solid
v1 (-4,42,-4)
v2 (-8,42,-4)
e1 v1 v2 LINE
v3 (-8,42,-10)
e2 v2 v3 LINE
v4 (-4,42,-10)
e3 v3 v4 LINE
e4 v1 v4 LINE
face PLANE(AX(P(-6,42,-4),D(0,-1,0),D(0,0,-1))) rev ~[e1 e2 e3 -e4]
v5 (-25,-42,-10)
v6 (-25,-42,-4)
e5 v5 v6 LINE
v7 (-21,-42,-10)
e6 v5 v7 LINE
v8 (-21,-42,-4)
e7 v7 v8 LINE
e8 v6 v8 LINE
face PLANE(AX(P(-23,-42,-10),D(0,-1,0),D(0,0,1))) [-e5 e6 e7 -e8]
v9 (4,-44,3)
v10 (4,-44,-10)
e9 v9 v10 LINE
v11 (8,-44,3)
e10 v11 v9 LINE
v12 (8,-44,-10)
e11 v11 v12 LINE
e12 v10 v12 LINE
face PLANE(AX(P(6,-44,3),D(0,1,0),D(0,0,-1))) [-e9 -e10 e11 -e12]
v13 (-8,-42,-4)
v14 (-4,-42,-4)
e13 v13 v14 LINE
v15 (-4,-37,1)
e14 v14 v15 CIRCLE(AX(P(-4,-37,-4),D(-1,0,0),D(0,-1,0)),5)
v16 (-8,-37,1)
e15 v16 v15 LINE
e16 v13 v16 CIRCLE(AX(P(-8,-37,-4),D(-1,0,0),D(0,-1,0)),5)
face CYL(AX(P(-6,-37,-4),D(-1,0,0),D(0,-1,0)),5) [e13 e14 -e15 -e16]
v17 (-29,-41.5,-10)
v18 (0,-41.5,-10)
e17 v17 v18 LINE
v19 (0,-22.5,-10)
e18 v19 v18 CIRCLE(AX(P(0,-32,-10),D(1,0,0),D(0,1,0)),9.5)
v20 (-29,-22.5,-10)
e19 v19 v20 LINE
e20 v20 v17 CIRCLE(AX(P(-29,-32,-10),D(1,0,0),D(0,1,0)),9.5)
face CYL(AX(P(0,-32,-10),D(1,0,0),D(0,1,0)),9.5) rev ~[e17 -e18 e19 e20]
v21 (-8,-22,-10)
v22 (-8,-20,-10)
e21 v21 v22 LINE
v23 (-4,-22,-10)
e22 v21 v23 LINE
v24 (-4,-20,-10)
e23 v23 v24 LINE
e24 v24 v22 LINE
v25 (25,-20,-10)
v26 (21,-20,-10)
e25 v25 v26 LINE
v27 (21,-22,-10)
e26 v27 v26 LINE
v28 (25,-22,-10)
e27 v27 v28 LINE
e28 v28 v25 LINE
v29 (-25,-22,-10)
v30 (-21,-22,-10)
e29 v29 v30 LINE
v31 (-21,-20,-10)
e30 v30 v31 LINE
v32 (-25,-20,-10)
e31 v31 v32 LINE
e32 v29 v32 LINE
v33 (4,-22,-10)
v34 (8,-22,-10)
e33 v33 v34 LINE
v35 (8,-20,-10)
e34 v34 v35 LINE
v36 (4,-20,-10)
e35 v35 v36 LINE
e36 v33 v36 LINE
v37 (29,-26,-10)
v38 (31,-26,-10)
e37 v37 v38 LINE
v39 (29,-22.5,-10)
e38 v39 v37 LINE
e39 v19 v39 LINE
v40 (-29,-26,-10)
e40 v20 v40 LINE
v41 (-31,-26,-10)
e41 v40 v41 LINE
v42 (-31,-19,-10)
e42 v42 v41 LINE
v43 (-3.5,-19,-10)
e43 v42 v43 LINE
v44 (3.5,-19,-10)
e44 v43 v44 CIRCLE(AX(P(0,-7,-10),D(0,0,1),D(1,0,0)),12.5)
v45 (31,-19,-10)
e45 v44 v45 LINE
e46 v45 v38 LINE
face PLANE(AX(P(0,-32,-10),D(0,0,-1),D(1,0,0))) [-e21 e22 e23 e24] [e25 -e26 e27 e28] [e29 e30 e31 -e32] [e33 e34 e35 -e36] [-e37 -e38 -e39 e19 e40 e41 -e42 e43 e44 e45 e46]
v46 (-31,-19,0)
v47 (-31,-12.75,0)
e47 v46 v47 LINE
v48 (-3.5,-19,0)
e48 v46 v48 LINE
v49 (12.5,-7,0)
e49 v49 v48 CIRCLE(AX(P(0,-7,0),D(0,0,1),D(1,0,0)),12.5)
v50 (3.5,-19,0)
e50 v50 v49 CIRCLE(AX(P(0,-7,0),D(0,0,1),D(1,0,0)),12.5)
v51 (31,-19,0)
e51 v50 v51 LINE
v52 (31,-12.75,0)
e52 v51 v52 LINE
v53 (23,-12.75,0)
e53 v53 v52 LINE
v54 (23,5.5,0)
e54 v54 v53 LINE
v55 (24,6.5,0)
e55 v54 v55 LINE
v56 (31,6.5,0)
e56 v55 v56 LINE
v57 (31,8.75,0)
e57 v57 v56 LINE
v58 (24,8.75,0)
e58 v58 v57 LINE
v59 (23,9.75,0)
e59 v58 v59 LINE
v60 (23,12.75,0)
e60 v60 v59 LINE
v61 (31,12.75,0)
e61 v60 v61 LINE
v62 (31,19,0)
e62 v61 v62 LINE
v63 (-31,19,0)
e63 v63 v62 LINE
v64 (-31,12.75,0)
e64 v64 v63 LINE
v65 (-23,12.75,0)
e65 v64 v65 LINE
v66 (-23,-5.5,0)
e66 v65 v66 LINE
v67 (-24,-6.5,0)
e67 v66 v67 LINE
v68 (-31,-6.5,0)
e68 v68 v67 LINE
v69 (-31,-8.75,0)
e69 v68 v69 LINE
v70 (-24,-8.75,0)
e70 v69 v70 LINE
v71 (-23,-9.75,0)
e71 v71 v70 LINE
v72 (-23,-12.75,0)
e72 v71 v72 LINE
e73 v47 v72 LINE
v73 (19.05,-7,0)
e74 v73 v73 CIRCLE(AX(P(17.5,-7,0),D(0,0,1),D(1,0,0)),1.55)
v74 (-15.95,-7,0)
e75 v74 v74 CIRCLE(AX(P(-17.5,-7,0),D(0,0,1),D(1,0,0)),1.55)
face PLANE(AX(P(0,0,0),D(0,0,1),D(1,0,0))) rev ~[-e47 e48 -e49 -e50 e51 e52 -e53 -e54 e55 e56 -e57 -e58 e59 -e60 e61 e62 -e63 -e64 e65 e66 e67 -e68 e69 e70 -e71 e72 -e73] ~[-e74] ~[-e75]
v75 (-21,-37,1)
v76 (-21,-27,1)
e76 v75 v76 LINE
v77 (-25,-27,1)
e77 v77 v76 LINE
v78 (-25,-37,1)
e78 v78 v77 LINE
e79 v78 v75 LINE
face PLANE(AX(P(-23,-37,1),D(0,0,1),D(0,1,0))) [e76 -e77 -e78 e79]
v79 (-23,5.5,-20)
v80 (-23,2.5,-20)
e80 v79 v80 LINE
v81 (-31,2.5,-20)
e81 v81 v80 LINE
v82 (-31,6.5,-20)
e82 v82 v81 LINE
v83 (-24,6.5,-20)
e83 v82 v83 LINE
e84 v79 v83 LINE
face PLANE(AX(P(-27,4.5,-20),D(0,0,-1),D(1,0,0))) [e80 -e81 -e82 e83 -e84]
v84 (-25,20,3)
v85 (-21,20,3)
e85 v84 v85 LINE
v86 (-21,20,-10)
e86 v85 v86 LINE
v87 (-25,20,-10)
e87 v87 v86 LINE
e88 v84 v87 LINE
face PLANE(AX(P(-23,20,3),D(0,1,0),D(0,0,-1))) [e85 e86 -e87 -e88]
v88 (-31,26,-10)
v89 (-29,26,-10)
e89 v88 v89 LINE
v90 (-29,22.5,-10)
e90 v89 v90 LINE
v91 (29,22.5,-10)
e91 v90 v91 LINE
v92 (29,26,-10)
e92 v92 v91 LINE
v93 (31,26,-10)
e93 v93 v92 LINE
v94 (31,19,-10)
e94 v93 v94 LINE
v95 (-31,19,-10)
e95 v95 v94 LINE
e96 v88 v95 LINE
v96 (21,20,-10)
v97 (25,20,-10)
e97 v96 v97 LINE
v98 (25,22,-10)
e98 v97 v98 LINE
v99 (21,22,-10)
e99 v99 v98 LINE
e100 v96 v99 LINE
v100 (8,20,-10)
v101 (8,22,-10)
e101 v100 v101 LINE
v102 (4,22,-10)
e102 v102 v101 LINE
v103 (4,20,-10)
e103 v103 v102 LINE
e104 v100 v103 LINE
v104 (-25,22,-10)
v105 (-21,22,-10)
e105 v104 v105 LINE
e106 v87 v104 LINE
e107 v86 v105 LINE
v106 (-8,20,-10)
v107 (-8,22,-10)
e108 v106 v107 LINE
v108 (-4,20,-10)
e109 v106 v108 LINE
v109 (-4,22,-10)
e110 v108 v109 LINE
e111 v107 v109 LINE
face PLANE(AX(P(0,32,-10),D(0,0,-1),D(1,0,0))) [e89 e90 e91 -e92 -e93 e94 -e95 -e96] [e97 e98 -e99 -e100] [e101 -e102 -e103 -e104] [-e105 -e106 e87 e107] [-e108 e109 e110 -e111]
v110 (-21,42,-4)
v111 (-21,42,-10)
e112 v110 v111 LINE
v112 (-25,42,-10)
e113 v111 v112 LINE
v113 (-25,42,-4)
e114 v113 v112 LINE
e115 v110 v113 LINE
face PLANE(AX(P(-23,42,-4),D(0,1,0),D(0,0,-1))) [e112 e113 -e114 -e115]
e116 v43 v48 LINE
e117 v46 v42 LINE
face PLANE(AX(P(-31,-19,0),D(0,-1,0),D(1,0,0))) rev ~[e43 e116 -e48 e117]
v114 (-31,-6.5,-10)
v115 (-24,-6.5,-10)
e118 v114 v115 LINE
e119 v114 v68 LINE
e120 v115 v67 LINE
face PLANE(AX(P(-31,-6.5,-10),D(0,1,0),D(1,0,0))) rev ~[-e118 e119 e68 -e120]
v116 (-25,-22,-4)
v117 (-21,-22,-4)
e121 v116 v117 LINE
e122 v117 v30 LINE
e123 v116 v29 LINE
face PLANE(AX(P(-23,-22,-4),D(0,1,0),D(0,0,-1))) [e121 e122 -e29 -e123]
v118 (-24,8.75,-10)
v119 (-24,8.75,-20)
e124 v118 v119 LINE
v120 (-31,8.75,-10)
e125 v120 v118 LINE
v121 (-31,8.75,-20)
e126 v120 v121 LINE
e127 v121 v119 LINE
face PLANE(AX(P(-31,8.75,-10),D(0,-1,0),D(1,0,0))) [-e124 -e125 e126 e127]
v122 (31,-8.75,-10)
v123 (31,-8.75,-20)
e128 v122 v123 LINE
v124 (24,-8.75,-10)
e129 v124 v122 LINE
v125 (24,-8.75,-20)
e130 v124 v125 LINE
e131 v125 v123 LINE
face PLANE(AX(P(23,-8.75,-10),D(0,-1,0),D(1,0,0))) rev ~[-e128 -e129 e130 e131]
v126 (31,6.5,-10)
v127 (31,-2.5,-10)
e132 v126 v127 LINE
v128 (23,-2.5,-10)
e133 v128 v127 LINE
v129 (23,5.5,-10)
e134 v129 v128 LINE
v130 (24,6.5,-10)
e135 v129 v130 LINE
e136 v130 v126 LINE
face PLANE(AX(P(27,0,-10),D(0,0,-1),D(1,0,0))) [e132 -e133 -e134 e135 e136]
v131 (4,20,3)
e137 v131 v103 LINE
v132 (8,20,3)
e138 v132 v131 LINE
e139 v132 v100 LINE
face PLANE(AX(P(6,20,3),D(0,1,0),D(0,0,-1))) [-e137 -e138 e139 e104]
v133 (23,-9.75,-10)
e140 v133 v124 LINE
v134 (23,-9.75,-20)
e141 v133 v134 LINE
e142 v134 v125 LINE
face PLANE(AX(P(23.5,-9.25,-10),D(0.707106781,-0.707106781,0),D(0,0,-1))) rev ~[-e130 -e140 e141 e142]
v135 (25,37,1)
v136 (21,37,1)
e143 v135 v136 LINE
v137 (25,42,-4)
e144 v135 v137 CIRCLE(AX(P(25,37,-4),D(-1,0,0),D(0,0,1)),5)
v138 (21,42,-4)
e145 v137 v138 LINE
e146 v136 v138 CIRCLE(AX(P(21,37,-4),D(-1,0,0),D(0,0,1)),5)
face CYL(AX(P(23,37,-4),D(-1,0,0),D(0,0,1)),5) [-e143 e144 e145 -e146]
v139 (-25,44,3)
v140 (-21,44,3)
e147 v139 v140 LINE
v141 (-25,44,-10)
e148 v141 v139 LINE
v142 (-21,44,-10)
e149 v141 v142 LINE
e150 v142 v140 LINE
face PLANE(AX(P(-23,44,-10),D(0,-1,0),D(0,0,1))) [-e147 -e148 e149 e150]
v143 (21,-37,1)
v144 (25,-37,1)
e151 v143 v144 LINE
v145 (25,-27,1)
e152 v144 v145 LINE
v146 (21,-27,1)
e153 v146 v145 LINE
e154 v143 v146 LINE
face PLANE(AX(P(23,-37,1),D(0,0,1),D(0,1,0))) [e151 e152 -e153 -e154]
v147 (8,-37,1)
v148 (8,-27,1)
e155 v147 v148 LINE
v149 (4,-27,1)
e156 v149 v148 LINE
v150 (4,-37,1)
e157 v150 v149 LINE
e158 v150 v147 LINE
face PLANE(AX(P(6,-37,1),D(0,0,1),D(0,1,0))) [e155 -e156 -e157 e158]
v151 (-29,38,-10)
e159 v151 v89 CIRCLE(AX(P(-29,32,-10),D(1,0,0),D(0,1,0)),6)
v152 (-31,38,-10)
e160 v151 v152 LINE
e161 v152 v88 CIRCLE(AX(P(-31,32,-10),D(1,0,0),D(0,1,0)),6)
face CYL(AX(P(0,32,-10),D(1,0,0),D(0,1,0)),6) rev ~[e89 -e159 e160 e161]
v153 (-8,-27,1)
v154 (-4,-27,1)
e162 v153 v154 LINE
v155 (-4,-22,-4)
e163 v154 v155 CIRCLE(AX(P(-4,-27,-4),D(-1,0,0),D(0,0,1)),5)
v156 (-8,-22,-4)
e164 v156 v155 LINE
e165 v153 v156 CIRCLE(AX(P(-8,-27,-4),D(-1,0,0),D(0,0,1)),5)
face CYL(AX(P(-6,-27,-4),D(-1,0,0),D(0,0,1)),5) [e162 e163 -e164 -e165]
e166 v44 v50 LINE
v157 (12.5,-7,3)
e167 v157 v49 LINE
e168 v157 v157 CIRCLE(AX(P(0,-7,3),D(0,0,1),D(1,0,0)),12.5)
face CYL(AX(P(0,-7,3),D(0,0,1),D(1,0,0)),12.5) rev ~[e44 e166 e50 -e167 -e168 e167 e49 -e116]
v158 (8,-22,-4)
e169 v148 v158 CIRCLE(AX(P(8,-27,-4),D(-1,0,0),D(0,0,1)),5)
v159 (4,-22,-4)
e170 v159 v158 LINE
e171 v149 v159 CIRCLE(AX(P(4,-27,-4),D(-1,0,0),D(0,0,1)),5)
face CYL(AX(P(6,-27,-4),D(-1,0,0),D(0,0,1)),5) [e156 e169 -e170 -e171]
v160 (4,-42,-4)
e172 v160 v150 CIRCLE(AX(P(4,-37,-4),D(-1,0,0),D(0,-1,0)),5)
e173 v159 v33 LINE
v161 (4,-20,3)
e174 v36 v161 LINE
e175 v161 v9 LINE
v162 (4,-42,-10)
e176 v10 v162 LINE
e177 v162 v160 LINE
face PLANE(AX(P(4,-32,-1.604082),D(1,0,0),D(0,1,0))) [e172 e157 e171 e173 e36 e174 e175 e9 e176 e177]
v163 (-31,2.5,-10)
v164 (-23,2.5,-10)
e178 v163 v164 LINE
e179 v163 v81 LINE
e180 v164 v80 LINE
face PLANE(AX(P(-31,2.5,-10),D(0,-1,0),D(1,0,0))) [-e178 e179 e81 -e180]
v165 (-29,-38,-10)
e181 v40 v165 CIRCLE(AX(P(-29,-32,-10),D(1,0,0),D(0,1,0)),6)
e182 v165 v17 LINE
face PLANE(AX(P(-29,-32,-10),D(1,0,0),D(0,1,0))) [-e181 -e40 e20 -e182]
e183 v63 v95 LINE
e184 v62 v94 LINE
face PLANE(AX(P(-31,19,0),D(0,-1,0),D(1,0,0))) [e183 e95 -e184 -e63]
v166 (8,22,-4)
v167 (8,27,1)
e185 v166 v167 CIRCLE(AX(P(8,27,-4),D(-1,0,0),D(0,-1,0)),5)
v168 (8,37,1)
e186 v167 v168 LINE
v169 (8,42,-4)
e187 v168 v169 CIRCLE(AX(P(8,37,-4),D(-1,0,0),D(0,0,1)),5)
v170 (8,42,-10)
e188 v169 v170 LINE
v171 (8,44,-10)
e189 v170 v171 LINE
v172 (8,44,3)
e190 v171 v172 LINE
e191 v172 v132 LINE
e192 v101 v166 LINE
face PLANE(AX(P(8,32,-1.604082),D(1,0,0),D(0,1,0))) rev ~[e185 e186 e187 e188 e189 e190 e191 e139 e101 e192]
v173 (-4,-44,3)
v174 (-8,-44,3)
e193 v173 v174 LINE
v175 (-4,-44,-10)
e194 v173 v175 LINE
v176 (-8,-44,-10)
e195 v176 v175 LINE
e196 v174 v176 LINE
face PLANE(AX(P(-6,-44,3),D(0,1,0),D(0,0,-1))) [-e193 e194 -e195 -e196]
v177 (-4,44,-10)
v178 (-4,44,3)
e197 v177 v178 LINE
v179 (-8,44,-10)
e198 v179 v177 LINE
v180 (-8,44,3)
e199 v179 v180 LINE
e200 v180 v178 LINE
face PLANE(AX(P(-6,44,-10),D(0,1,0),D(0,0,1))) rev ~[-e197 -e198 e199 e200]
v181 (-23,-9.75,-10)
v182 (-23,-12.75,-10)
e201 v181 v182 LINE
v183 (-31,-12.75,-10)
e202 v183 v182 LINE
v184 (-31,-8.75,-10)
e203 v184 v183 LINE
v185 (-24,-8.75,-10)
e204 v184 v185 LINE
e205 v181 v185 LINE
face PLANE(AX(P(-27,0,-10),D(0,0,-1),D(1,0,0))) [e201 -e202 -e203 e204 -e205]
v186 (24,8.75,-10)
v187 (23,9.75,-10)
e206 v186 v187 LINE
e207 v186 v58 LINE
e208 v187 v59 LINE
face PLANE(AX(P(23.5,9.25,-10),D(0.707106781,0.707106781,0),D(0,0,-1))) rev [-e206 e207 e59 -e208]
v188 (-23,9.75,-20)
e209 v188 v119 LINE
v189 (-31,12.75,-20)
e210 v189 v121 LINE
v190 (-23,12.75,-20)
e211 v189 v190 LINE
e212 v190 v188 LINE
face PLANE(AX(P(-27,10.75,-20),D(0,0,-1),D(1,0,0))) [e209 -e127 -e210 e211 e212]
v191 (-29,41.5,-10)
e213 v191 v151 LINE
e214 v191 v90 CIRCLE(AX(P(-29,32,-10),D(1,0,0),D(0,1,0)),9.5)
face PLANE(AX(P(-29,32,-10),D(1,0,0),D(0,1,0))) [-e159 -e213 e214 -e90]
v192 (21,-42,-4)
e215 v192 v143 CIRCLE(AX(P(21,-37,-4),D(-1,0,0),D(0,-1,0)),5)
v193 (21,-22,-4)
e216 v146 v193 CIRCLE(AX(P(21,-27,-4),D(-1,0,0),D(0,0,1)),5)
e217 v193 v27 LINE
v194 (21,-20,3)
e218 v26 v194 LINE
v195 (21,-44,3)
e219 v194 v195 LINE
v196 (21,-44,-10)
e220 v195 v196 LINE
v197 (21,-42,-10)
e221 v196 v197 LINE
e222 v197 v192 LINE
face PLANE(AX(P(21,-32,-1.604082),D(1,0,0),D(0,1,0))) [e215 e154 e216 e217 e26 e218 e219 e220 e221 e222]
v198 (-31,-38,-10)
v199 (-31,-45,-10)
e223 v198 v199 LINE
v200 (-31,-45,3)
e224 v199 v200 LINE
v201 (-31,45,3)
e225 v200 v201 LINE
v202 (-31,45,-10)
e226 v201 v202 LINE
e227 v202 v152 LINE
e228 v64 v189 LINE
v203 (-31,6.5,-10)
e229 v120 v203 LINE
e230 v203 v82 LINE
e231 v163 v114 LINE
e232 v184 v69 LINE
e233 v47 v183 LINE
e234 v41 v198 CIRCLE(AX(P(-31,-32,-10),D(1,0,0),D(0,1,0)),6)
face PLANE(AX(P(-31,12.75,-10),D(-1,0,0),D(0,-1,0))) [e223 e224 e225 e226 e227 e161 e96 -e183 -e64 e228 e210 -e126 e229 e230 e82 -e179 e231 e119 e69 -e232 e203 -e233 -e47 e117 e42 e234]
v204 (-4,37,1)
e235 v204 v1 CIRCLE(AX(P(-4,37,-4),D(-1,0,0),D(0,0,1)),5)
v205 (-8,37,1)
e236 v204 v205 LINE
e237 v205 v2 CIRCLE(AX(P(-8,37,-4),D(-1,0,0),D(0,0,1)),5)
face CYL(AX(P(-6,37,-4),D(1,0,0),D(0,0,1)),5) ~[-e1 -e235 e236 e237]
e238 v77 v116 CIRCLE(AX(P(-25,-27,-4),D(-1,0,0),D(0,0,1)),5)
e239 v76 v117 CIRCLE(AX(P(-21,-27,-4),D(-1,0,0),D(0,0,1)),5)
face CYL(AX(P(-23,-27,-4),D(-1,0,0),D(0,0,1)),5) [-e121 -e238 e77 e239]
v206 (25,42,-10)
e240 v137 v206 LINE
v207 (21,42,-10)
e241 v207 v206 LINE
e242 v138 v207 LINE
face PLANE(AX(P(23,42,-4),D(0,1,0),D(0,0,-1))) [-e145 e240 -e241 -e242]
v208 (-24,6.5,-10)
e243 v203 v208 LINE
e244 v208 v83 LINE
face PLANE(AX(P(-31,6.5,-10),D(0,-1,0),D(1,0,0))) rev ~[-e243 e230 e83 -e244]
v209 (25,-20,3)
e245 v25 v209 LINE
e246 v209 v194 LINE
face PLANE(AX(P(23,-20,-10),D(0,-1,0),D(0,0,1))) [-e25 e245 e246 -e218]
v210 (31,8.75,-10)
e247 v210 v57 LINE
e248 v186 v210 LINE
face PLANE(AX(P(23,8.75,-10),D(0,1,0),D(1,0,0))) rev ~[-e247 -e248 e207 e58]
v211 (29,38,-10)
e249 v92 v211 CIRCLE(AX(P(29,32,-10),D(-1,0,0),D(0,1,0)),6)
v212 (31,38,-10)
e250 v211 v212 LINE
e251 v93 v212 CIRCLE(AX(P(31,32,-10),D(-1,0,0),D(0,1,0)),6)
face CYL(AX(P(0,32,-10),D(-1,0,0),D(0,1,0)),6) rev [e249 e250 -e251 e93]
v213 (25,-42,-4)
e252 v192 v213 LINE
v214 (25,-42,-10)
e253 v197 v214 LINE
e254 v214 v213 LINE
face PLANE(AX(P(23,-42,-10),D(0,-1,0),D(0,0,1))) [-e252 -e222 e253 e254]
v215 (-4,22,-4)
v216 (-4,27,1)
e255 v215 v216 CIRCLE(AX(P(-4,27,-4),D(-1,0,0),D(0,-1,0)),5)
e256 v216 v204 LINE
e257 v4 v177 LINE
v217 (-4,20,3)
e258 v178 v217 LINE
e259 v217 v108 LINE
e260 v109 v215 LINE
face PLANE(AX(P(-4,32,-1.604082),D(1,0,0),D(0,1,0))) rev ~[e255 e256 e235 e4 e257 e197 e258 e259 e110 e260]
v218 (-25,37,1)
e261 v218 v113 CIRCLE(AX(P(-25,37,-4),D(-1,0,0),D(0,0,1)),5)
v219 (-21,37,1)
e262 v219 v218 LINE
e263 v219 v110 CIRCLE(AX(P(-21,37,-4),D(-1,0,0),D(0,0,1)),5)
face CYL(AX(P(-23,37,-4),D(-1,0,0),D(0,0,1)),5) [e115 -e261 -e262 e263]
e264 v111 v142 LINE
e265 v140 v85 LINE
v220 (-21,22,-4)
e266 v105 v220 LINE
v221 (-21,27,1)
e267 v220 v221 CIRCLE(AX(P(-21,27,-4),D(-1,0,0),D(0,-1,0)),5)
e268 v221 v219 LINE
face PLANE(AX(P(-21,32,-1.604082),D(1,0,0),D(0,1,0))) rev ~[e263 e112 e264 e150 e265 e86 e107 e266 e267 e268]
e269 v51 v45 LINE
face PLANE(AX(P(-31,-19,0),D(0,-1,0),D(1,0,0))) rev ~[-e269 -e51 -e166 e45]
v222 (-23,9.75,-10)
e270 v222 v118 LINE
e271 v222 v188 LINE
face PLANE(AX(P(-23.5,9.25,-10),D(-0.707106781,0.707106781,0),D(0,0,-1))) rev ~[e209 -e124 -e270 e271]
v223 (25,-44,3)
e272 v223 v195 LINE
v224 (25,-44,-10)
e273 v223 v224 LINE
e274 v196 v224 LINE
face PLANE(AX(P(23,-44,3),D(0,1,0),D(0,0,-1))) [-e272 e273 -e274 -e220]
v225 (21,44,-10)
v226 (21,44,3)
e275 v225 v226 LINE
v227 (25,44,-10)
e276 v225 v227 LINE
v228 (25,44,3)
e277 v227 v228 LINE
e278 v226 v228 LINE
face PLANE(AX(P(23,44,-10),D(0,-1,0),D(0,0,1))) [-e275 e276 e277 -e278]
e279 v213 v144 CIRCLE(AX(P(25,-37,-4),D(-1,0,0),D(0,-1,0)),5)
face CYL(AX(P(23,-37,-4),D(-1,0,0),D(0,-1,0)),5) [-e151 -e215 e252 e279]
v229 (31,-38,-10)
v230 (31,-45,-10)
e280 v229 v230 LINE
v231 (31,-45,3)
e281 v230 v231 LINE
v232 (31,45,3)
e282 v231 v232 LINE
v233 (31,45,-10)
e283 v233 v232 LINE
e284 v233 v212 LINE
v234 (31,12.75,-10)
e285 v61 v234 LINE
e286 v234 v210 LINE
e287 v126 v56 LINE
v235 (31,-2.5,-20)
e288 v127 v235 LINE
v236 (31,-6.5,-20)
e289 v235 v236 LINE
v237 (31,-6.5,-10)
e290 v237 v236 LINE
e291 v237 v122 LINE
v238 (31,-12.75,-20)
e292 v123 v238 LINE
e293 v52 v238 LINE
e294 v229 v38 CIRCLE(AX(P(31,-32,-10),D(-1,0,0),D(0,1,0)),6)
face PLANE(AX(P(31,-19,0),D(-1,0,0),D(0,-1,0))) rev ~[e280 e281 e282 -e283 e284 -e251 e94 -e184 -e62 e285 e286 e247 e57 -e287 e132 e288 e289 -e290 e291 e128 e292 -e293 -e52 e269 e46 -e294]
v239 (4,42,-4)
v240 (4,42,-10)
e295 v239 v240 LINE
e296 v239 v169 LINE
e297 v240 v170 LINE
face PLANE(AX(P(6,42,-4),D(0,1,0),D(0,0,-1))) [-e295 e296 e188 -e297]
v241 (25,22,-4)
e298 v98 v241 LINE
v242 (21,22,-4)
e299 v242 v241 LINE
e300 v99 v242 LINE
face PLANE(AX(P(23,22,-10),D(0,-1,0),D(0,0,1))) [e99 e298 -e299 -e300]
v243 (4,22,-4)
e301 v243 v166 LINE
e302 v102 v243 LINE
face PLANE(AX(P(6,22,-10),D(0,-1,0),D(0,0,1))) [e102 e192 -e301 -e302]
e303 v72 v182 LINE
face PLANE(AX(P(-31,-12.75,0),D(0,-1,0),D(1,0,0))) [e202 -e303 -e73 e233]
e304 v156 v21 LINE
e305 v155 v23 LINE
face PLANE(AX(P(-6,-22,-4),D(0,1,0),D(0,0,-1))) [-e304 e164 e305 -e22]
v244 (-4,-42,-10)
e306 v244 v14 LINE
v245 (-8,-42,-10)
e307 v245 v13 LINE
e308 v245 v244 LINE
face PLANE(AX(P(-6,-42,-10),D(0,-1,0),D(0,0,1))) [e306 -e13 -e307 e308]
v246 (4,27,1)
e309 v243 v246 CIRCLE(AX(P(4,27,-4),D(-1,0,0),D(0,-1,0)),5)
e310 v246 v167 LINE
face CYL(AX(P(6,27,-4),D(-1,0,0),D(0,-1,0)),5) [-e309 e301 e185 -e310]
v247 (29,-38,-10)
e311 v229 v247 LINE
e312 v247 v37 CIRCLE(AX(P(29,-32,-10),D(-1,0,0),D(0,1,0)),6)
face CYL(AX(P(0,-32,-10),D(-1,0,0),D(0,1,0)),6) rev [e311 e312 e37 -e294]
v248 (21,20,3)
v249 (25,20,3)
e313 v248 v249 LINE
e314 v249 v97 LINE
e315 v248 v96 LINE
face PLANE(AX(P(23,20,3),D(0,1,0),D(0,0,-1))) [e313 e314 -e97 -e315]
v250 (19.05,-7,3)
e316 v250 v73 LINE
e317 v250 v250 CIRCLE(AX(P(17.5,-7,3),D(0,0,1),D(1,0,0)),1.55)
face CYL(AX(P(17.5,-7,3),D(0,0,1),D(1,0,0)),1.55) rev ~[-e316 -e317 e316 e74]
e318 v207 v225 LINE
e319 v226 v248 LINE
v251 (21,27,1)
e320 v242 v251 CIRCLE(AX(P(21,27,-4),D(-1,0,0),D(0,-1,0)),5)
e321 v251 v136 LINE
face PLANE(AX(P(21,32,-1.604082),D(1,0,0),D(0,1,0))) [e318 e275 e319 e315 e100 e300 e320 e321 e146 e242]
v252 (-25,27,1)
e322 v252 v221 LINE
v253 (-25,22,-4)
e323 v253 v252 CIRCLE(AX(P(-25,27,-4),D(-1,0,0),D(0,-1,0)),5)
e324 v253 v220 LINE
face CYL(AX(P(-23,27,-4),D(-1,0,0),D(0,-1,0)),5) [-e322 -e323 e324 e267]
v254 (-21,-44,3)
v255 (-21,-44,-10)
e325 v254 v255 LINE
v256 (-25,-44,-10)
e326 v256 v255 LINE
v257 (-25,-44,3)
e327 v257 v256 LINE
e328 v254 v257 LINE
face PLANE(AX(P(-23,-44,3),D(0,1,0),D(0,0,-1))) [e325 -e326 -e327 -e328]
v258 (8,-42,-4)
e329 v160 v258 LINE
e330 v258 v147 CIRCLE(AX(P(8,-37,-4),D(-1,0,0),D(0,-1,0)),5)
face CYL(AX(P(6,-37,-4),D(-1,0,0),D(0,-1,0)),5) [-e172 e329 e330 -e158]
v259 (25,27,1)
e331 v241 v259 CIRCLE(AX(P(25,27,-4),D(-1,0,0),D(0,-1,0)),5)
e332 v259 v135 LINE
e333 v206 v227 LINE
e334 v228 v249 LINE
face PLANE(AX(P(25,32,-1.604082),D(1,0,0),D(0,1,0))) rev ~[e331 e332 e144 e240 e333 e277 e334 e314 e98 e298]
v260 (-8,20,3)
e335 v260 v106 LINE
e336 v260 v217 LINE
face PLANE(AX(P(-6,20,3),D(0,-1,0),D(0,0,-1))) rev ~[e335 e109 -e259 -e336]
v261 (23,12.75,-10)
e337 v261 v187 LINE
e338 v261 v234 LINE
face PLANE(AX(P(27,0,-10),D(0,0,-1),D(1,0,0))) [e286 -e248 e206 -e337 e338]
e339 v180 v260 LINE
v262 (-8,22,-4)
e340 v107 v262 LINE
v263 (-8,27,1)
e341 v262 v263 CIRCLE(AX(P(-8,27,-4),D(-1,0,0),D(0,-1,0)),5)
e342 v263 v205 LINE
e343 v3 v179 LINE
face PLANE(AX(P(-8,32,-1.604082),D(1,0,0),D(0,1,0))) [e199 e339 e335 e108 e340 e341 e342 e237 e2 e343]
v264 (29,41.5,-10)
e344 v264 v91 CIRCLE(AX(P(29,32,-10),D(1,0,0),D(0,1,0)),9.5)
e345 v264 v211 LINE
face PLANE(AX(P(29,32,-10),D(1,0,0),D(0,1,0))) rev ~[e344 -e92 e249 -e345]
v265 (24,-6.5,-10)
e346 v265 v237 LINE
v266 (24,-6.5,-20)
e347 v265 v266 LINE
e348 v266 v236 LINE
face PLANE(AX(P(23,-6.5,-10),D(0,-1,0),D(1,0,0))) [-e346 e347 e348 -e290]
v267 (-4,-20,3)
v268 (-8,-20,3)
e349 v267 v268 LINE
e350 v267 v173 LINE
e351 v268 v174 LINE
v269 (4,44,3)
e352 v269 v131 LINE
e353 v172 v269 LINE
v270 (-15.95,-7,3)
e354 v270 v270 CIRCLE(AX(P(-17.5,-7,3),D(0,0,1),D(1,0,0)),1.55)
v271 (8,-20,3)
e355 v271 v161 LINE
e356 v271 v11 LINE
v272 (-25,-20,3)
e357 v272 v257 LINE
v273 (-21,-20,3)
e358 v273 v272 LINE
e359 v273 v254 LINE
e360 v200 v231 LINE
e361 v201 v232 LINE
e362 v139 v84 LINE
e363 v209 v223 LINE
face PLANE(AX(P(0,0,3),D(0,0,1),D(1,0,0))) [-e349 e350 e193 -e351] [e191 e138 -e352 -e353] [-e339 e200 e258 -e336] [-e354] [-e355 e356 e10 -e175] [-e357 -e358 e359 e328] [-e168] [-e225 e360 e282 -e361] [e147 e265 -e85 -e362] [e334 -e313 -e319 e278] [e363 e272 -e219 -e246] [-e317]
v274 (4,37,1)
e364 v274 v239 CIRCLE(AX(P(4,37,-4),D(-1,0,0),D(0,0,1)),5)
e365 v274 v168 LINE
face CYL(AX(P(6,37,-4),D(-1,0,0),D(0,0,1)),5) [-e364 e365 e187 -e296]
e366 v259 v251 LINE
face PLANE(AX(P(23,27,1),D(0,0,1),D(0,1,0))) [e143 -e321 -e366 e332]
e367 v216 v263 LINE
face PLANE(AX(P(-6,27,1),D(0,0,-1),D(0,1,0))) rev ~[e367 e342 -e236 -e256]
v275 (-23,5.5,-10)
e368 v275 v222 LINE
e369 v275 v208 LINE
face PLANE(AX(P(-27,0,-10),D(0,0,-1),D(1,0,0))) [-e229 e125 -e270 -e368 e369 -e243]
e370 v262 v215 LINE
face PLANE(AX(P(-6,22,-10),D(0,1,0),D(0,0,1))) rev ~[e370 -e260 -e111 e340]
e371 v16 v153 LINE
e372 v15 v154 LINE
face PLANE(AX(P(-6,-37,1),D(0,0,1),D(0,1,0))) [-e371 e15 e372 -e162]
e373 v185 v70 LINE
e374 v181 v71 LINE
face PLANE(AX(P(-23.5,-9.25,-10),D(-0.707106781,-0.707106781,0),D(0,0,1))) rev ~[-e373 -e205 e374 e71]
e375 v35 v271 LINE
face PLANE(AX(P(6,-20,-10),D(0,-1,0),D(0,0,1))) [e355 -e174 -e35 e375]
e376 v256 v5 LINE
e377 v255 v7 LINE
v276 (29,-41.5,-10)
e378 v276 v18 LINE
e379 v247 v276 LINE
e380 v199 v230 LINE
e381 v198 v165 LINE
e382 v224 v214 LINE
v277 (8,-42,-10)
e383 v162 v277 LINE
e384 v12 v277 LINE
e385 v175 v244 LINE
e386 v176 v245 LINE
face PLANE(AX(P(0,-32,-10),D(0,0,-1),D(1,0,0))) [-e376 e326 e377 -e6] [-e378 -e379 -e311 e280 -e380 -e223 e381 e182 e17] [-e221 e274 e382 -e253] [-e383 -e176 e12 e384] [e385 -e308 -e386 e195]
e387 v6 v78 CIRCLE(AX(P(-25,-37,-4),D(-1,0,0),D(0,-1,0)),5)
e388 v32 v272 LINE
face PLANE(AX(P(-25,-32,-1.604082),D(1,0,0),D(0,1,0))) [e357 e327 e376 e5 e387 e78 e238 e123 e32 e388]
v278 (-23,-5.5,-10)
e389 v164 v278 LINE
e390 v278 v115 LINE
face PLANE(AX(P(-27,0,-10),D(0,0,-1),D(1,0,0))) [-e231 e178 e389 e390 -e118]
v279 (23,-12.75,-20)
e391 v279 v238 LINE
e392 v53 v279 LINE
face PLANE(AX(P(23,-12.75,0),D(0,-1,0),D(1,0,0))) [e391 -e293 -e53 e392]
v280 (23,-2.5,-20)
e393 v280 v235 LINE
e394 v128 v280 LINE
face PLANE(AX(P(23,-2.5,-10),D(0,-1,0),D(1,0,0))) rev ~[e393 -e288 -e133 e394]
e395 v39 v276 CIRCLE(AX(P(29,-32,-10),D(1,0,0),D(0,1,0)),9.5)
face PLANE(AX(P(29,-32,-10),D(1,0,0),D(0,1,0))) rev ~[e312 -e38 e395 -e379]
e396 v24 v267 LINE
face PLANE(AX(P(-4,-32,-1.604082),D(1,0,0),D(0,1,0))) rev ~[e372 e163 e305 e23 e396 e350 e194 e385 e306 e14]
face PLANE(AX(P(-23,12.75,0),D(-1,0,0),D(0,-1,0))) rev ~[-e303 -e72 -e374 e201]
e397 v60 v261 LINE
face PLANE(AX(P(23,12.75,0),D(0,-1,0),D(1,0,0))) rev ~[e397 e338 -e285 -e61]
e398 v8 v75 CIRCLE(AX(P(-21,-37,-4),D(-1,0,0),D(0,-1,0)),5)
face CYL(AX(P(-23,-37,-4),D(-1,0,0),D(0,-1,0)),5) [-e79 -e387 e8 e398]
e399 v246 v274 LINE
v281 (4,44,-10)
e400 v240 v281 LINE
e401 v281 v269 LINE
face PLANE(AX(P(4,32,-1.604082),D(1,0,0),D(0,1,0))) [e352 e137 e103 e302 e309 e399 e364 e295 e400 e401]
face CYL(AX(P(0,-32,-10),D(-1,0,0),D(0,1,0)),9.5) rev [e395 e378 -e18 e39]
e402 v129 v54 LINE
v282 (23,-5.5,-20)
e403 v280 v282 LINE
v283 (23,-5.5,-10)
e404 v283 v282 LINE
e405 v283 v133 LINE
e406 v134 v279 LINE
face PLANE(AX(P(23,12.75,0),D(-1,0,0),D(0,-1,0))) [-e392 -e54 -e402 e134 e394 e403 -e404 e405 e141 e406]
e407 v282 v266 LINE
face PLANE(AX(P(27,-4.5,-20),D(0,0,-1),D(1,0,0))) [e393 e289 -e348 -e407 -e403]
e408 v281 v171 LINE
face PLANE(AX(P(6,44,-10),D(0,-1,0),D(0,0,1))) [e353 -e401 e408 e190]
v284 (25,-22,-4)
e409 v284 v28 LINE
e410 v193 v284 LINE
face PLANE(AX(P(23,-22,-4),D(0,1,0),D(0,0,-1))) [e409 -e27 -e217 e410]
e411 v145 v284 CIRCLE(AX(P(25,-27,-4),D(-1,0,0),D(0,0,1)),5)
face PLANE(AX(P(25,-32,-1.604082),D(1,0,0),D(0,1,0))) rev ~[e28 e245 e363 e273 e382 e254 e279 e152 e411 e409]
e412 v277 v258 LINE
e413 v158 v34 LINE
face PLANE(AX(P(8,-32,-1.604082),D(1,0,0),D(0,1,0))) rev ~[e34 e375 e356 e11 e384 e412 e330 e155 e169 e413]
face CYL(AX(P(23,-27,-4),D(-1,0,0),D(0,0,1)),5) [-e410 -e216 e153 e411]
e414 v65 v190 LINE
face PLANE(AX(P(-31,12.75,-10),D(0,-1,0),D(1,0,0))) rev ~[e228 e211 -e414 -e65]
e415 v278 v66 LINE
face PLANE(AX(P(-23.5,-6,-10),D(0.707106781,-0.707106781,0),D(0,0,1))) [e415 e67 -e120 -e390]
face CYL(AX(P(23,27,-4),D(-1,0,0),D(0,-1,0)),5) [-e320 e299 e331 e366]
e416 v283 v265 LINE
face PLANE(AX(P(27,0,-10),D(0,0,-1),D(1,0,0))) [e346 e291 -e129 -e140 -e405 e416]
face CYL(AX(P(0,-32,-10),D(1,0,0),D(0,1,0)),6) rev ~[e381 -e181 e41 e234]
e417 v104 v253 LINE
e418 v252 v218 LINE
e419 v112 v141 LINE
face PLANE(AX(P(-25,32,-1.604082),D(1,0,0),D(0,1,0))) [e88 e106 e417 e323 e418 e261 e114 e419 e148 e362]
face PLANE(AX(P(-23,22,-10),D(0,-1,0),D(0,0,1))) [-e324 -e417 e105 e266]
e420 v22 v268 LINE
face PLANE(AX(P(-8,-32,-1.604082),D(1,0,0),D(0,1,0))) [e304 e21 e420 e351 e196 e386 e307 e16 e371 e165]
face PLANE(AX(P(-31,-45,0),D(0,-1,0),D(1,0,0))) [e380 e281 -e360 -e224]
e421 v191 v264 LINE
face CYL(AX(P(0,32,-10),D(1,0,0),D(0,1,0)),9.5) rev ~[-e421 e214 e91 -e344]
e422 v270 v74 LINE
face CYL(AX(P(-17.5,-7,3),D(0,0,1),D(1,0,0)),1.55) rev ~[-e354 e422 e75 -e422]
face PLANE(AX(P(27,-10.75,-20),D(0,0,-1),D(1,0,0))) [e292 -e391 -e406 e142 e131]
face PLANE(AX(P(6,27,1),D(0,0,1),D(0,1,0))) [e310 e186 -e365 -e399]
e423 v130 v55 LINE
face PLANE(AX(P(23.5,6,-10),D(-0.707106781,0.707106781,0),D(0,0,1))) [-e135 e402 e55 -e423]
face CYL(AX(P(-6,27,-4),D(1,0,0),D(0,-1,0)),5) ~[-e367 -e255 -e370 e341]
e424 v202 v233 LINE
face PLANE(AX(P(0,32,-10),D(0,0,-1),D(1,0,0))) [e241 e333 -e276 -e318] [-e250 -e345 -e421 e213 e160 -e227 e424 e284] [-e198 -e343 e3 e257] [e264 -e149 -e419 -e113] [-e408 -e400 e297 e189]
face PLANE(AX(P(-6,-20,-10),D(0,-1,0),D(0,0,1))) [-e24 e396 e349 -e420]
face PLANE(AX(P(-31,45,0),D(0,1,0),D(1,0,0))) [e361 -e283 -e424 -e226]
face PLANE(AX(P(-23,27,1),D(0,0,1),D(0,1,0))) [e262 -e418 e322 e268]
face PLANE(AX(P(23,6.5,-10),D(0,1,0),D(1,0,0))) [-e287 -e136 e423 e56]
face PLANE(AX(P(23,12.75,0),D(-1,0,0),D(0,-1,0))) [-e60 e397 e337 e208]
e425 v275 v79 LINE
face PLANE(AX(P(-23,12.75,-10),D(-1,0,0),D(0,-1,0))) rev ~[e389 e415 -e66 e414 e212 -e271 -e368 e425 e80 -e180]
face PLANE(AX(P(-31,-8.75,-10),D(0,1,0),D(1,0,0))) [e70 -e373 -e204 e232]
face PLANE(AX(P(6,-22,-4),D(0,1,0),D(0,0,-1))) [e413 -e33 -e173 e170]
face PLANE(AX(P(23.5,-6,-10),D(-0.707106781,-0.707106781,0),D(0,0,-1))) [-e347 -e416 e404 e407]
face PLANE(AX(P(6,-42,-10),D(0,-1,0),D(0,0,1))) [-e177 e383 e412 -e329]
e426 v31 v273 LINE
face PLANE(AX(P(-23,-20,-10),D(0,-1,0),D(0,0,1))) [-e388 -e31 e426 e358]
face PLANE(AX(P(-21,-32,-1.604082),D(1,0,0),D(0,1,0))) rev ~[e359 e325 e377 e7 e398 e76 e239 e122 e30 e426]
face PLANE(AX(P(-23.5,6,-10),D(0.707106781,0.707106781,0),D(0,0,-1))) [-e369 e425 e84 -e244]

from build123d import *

# Parameters (mm, degrees)
F0_W          = 62
F0_H          = 90
F1_DEPTH      = 3
F2_W          = 62
F2_H          = 26
F3_DEPTH      = 10
F4_R          = 9.5
F5_DEPTH      = 29
F6_R          = 6
F7_DEPTH      = 31.001
F7_DEPTH_BACK = 31.001
F8_R          = 12.5
F8_R_2        = 1.55
F9_DEPTH      = 13.001
F18_DEPTH     = 2
F19_W         = 8
F19_H         = 25.5
F20_DEPTH     = 10
F21_W         = 8
F21_H         = 2.25
F22_DEPTH     = 10
F23_W         = 8
F23_H         = 4
F24_DEPTH     = 10
F25_SIZE      = 1


with BuildPart() as f1:
    # F0 (on Top) → F1 (new body)
    with BuildSketch(Plane.XY):
        Rectangle(F0_W, F0_H)
    extrude(amount=F1_DEPTH)

    # F2 (on face) → F3 (join)
    with BuildSketch(Plane(origin=(0, 0, 0), x_dir=(1, 0, 0), z_dir=(0, 0, -1))):
        with Locations((0, 32)):
            Rectangle(F2_W, F2_H)
        with Locations((0, -32)):
            Rectangle(F2_W, F2_H)
    extrude(amount=F3_DEPTH)

    # F4 (on Right) → F5 (cut, symmetric)
    with BuildSketch(Plane.YZ):
        with Locations((-32, -10)):
            Circle(F4_R)
        with Locations((32, -10)):
            Circle(F4_R)
    extrude(amount=F5_DEPTH, both=True, mode=Mode.SUBTRACT)

    # F6 (on Right) → F7 (cut, two sides)
    with BuildSketch(Plane.YZ) as f7_sk:
        with Locations((-32, -10)):
            Circle(F6_R)
        with Locations((32, -10)):
            Circle(F6_R)
    extrude(amount=-F7_DEPTH, mode=Mode.SUBTRACT)
    extrude(f7_sk.sketch, amount=F7_DEPTH_BACK, mode=Mode.SUBTRACT)

    # F8 (on face) → F9 (cut, through all)
    with BuildSketch(Plane.XY.offset(3)):
        with Locations((0, -7)):
            Circle(F8_R)
        with Locations((-17.5, -7)):
            Circle(F8_R_2)
        with Locations((17.5, -7)):
            Circle(F8_R_2)
    extrude(amount=-F9_DEPTH, mode=Mode.SUBTRACT)

    # F11 (on offset) + F13 (on offset) + F15 (on offset) + F17 (on offset) → F18 (cut, symmetric)
    with BuildSketch(Plane.YZ.offset(23)):
        with BuildLine():
            Line((-44, 3), (-44, -10))
            Line((-44, -10), (-42, -10))
            Line((-42, -10), (-42, -4))
            ThreePointArc((-42, -4), (-40.5355339059, -0.4644660941), (-37, 1))
            Line((-37, 1), (-27, 1))
            ThreePointArc((-27, 1), (-23.4644660941, -0.4644660941), (-22, -4))
            Line((-22, -4), (-22, -10))
            Line((-22, -10), (-20, -10))
            Line((-20, -10), (-20, 3))
            Line((-20, 3), (-44, 3))
        make_face()
        with BuildLine():
            Line((42, -4), (42, -10))
            Line((42, -10), (44, -10))
            Line((44, -10), (44, 3))
            Line((44, 3), (20, 3))
            Line((20, 3), (20, -10))
            Line((20, -10), (22, -10))
            Line((22, -10), (22, -4))
            ThreePointArc((22, -4), (23.4644660941, -0.4644660941), (27, 1))
            Line((27, 1), (37, 1))
            ThreePointArc((37, 1), (40.5355339059, -0.4644660941), (42, -4))
        make_face()
    with BuildSketch(Plane.YZ.offset(6)):
        with BuildLine():
            Line((-44, 3), (-44, -10))
            Line((-44, -10), (-42, -10))
            Line((-42, -10), (-42, -4))
            ThreePointArc((-42, -4), (-40.5355339059, -0.4644660941), (-37, 1))
            Line((-37, 1), (-27, 1))
            ThreePointArc((-27, 1), (-23.4644660941, -0.4644660941), (-22, -4))
            Line((-22, -4), (-22, -10))
            Line((-22, -10), (-20, -10))
            Line((-20, -10), (-20, 3))
            Line((-20, 3), (-44, 3))
        make_face()
        with BuildLine():
            Line((20, -10), (22, -10))
            Line((22, -10), (22, -4))
            ThreePointArc((22, -4), (23.4644660941, -0.4644660941), (27, 1))
            Line((27, 1), (37, 1))
            ThreePointArc((37, 1), (40.5355339059, -0.4644660941), (42, -4))
            Line((42, -4), (42, -10))
            Line((42, -10), (44, -10))
            Line((44, -10), (44, 3))
            Line((44, 3), (20, 3))
            Line((20, 3), (20, -10))
        make_face()
    with BuildSketch(Plane.YZ.offset(-23)):
        with BuildLine():
            Line((-44, 3), (-44, -10))
            Line((-44, -10), (-42, -10))
            Line((-42, -10), (-42, -4))
            ThreePointArc((-42, -4), (-40.5355339059, -0.4644660941), (-37, 1))
            Line((-37, 1), (-27, 1))
            ThreePointArc((-27, 1), (-23.4644660941, -0.4644660941), (-22, -4))
            Line((-22, -4), (-22, -10))
            Line((-22, -10), (-20, -10))
            Line((-20, -10), (-20, 3))
            Line((-20, 3), (-44, 3))
        make_face()
        with BuildLine():
            Line((42, -10), (44, -10))
            Line((44, -10), (44, 3))
            Line((44, 3), (20, 3))
            Line((20, 3), (20, -10))
            Line((20, -10), (22, -10))
            Line((22, -10), (22, -4))
            ThreePointArc((22, -4), (23.4644660941, -0.4644660941), (27, 1))
            Line((27, 1), (37, 1))
            ThreePointArc((37, 1), (40.5355339059, -0.4644660941), (42, -4))
            Line((42, -4), (42, -10))
        make_face()
    with BuildSketch(Plane.YZ.offset(-6)):
        with BuildLine():
            Line((-44, 3), (-44, -10))
            Line((-44, -10), (-42, -10))
            Line((-42, -10), (-42, -4))
            ThreePointArc((-42, -4), (-40.5355339059, -0.4644660941), (-37, 1))
            Line((-37, 1), (-27, 1))
            ThreePointArc((-27, 1), (-23.4644660941, -0.4644660941), (-22, -4))
            Line((-22, -4), (-22, -10))
            Line((-22, -10), (-20, -10))
            Line((-20, -10), (-20, 3))
            Line((-20, 3), (-44, 3))
        make_face()
        with BuildLine():
            Line((42, -4), (42, -10))
            Line((42, -10), (44, -10))
            Line((44, -10), (44, 3))
            Line((44, 3), (20, 3))
            Line((20, 3), (20, -10))
            Line((20, -10), (22, -10))
            Line((22, -10), (22, -4))
            ThreePointArc((22, -4), (23.4644660941, -0.4644660941), (27, 1))
            Line((27, 1), (37, 1))
            ThreePointArc((37, 1), (40.5355339059, -0.4644660941), (42, -4))
        make_face()
    extrude(amount=F18_DEPTH, both=True, mode=Mode.SUBTRACT)

    # F19 (on face) → F20 (join)
    with BuildSketch(Plane(origin=(0, 0, 0), x_dir=(1, 0, 0), z_dir=(0, 0, -1))):
        with Locations((27, 0)):
            Rectangle(F19_W, F19_H)
        with Locations((-27, 0)):
            Rectangle(F19_W, F19_H)
    extrude(amount=F20_DEPTH)

    # F21 (on face) → F22 (cut, through all)
    with BuildSketch(Plane(origin=(0, 0, -10), x_dir=(1, 0, 0), z_dir=(0, 0, -1))):
        with Locations((-27, 7.625)):
            Rectangle(F21_W, F21_H)
        with Locations((27, -7.625)):
            Rectangle(F21_W, F21_H)
    extrude(amount=-F22_DEPTH, mode=Mode.SUBTRACT)

    # F23 (on face) → F24 (join)
    with BuildSketch(Plane(origin=(0, 0, -10), x_dir=(1, 0, 0), z_dir=(0, 0, -1))):
        with Locations((-27, -10.75)):
            Rectangle(F23_W, F23_H)
        with Locations((27, 10.75)):
            Rectangle(F23_W, F23_H)
        with Locations((-27, -4.5)):
            Rectangle(F23_W, F23_H)
        with Locations((27, 4.5)):
            Rectangle(F23_W, F23_H)
    extrude(amount=F24_DEPTH)

    # F25
    f25_edges = [f1.edges().sort_by_distance(p)[0] for p in [
        (-23, -8.75, -5),
        (-23, -6.5, -5),
        (-23, 6.5, -15),
        (-23, 8.75, -15),
        (23, 6.5, -5),
        (23, 8.75, -5),
        (23, -6.5, -15),
        (23, -8.75, -15),
    ]]
    chamfer(f25_edges, length=F25_SIZE)


solid = f1.part
